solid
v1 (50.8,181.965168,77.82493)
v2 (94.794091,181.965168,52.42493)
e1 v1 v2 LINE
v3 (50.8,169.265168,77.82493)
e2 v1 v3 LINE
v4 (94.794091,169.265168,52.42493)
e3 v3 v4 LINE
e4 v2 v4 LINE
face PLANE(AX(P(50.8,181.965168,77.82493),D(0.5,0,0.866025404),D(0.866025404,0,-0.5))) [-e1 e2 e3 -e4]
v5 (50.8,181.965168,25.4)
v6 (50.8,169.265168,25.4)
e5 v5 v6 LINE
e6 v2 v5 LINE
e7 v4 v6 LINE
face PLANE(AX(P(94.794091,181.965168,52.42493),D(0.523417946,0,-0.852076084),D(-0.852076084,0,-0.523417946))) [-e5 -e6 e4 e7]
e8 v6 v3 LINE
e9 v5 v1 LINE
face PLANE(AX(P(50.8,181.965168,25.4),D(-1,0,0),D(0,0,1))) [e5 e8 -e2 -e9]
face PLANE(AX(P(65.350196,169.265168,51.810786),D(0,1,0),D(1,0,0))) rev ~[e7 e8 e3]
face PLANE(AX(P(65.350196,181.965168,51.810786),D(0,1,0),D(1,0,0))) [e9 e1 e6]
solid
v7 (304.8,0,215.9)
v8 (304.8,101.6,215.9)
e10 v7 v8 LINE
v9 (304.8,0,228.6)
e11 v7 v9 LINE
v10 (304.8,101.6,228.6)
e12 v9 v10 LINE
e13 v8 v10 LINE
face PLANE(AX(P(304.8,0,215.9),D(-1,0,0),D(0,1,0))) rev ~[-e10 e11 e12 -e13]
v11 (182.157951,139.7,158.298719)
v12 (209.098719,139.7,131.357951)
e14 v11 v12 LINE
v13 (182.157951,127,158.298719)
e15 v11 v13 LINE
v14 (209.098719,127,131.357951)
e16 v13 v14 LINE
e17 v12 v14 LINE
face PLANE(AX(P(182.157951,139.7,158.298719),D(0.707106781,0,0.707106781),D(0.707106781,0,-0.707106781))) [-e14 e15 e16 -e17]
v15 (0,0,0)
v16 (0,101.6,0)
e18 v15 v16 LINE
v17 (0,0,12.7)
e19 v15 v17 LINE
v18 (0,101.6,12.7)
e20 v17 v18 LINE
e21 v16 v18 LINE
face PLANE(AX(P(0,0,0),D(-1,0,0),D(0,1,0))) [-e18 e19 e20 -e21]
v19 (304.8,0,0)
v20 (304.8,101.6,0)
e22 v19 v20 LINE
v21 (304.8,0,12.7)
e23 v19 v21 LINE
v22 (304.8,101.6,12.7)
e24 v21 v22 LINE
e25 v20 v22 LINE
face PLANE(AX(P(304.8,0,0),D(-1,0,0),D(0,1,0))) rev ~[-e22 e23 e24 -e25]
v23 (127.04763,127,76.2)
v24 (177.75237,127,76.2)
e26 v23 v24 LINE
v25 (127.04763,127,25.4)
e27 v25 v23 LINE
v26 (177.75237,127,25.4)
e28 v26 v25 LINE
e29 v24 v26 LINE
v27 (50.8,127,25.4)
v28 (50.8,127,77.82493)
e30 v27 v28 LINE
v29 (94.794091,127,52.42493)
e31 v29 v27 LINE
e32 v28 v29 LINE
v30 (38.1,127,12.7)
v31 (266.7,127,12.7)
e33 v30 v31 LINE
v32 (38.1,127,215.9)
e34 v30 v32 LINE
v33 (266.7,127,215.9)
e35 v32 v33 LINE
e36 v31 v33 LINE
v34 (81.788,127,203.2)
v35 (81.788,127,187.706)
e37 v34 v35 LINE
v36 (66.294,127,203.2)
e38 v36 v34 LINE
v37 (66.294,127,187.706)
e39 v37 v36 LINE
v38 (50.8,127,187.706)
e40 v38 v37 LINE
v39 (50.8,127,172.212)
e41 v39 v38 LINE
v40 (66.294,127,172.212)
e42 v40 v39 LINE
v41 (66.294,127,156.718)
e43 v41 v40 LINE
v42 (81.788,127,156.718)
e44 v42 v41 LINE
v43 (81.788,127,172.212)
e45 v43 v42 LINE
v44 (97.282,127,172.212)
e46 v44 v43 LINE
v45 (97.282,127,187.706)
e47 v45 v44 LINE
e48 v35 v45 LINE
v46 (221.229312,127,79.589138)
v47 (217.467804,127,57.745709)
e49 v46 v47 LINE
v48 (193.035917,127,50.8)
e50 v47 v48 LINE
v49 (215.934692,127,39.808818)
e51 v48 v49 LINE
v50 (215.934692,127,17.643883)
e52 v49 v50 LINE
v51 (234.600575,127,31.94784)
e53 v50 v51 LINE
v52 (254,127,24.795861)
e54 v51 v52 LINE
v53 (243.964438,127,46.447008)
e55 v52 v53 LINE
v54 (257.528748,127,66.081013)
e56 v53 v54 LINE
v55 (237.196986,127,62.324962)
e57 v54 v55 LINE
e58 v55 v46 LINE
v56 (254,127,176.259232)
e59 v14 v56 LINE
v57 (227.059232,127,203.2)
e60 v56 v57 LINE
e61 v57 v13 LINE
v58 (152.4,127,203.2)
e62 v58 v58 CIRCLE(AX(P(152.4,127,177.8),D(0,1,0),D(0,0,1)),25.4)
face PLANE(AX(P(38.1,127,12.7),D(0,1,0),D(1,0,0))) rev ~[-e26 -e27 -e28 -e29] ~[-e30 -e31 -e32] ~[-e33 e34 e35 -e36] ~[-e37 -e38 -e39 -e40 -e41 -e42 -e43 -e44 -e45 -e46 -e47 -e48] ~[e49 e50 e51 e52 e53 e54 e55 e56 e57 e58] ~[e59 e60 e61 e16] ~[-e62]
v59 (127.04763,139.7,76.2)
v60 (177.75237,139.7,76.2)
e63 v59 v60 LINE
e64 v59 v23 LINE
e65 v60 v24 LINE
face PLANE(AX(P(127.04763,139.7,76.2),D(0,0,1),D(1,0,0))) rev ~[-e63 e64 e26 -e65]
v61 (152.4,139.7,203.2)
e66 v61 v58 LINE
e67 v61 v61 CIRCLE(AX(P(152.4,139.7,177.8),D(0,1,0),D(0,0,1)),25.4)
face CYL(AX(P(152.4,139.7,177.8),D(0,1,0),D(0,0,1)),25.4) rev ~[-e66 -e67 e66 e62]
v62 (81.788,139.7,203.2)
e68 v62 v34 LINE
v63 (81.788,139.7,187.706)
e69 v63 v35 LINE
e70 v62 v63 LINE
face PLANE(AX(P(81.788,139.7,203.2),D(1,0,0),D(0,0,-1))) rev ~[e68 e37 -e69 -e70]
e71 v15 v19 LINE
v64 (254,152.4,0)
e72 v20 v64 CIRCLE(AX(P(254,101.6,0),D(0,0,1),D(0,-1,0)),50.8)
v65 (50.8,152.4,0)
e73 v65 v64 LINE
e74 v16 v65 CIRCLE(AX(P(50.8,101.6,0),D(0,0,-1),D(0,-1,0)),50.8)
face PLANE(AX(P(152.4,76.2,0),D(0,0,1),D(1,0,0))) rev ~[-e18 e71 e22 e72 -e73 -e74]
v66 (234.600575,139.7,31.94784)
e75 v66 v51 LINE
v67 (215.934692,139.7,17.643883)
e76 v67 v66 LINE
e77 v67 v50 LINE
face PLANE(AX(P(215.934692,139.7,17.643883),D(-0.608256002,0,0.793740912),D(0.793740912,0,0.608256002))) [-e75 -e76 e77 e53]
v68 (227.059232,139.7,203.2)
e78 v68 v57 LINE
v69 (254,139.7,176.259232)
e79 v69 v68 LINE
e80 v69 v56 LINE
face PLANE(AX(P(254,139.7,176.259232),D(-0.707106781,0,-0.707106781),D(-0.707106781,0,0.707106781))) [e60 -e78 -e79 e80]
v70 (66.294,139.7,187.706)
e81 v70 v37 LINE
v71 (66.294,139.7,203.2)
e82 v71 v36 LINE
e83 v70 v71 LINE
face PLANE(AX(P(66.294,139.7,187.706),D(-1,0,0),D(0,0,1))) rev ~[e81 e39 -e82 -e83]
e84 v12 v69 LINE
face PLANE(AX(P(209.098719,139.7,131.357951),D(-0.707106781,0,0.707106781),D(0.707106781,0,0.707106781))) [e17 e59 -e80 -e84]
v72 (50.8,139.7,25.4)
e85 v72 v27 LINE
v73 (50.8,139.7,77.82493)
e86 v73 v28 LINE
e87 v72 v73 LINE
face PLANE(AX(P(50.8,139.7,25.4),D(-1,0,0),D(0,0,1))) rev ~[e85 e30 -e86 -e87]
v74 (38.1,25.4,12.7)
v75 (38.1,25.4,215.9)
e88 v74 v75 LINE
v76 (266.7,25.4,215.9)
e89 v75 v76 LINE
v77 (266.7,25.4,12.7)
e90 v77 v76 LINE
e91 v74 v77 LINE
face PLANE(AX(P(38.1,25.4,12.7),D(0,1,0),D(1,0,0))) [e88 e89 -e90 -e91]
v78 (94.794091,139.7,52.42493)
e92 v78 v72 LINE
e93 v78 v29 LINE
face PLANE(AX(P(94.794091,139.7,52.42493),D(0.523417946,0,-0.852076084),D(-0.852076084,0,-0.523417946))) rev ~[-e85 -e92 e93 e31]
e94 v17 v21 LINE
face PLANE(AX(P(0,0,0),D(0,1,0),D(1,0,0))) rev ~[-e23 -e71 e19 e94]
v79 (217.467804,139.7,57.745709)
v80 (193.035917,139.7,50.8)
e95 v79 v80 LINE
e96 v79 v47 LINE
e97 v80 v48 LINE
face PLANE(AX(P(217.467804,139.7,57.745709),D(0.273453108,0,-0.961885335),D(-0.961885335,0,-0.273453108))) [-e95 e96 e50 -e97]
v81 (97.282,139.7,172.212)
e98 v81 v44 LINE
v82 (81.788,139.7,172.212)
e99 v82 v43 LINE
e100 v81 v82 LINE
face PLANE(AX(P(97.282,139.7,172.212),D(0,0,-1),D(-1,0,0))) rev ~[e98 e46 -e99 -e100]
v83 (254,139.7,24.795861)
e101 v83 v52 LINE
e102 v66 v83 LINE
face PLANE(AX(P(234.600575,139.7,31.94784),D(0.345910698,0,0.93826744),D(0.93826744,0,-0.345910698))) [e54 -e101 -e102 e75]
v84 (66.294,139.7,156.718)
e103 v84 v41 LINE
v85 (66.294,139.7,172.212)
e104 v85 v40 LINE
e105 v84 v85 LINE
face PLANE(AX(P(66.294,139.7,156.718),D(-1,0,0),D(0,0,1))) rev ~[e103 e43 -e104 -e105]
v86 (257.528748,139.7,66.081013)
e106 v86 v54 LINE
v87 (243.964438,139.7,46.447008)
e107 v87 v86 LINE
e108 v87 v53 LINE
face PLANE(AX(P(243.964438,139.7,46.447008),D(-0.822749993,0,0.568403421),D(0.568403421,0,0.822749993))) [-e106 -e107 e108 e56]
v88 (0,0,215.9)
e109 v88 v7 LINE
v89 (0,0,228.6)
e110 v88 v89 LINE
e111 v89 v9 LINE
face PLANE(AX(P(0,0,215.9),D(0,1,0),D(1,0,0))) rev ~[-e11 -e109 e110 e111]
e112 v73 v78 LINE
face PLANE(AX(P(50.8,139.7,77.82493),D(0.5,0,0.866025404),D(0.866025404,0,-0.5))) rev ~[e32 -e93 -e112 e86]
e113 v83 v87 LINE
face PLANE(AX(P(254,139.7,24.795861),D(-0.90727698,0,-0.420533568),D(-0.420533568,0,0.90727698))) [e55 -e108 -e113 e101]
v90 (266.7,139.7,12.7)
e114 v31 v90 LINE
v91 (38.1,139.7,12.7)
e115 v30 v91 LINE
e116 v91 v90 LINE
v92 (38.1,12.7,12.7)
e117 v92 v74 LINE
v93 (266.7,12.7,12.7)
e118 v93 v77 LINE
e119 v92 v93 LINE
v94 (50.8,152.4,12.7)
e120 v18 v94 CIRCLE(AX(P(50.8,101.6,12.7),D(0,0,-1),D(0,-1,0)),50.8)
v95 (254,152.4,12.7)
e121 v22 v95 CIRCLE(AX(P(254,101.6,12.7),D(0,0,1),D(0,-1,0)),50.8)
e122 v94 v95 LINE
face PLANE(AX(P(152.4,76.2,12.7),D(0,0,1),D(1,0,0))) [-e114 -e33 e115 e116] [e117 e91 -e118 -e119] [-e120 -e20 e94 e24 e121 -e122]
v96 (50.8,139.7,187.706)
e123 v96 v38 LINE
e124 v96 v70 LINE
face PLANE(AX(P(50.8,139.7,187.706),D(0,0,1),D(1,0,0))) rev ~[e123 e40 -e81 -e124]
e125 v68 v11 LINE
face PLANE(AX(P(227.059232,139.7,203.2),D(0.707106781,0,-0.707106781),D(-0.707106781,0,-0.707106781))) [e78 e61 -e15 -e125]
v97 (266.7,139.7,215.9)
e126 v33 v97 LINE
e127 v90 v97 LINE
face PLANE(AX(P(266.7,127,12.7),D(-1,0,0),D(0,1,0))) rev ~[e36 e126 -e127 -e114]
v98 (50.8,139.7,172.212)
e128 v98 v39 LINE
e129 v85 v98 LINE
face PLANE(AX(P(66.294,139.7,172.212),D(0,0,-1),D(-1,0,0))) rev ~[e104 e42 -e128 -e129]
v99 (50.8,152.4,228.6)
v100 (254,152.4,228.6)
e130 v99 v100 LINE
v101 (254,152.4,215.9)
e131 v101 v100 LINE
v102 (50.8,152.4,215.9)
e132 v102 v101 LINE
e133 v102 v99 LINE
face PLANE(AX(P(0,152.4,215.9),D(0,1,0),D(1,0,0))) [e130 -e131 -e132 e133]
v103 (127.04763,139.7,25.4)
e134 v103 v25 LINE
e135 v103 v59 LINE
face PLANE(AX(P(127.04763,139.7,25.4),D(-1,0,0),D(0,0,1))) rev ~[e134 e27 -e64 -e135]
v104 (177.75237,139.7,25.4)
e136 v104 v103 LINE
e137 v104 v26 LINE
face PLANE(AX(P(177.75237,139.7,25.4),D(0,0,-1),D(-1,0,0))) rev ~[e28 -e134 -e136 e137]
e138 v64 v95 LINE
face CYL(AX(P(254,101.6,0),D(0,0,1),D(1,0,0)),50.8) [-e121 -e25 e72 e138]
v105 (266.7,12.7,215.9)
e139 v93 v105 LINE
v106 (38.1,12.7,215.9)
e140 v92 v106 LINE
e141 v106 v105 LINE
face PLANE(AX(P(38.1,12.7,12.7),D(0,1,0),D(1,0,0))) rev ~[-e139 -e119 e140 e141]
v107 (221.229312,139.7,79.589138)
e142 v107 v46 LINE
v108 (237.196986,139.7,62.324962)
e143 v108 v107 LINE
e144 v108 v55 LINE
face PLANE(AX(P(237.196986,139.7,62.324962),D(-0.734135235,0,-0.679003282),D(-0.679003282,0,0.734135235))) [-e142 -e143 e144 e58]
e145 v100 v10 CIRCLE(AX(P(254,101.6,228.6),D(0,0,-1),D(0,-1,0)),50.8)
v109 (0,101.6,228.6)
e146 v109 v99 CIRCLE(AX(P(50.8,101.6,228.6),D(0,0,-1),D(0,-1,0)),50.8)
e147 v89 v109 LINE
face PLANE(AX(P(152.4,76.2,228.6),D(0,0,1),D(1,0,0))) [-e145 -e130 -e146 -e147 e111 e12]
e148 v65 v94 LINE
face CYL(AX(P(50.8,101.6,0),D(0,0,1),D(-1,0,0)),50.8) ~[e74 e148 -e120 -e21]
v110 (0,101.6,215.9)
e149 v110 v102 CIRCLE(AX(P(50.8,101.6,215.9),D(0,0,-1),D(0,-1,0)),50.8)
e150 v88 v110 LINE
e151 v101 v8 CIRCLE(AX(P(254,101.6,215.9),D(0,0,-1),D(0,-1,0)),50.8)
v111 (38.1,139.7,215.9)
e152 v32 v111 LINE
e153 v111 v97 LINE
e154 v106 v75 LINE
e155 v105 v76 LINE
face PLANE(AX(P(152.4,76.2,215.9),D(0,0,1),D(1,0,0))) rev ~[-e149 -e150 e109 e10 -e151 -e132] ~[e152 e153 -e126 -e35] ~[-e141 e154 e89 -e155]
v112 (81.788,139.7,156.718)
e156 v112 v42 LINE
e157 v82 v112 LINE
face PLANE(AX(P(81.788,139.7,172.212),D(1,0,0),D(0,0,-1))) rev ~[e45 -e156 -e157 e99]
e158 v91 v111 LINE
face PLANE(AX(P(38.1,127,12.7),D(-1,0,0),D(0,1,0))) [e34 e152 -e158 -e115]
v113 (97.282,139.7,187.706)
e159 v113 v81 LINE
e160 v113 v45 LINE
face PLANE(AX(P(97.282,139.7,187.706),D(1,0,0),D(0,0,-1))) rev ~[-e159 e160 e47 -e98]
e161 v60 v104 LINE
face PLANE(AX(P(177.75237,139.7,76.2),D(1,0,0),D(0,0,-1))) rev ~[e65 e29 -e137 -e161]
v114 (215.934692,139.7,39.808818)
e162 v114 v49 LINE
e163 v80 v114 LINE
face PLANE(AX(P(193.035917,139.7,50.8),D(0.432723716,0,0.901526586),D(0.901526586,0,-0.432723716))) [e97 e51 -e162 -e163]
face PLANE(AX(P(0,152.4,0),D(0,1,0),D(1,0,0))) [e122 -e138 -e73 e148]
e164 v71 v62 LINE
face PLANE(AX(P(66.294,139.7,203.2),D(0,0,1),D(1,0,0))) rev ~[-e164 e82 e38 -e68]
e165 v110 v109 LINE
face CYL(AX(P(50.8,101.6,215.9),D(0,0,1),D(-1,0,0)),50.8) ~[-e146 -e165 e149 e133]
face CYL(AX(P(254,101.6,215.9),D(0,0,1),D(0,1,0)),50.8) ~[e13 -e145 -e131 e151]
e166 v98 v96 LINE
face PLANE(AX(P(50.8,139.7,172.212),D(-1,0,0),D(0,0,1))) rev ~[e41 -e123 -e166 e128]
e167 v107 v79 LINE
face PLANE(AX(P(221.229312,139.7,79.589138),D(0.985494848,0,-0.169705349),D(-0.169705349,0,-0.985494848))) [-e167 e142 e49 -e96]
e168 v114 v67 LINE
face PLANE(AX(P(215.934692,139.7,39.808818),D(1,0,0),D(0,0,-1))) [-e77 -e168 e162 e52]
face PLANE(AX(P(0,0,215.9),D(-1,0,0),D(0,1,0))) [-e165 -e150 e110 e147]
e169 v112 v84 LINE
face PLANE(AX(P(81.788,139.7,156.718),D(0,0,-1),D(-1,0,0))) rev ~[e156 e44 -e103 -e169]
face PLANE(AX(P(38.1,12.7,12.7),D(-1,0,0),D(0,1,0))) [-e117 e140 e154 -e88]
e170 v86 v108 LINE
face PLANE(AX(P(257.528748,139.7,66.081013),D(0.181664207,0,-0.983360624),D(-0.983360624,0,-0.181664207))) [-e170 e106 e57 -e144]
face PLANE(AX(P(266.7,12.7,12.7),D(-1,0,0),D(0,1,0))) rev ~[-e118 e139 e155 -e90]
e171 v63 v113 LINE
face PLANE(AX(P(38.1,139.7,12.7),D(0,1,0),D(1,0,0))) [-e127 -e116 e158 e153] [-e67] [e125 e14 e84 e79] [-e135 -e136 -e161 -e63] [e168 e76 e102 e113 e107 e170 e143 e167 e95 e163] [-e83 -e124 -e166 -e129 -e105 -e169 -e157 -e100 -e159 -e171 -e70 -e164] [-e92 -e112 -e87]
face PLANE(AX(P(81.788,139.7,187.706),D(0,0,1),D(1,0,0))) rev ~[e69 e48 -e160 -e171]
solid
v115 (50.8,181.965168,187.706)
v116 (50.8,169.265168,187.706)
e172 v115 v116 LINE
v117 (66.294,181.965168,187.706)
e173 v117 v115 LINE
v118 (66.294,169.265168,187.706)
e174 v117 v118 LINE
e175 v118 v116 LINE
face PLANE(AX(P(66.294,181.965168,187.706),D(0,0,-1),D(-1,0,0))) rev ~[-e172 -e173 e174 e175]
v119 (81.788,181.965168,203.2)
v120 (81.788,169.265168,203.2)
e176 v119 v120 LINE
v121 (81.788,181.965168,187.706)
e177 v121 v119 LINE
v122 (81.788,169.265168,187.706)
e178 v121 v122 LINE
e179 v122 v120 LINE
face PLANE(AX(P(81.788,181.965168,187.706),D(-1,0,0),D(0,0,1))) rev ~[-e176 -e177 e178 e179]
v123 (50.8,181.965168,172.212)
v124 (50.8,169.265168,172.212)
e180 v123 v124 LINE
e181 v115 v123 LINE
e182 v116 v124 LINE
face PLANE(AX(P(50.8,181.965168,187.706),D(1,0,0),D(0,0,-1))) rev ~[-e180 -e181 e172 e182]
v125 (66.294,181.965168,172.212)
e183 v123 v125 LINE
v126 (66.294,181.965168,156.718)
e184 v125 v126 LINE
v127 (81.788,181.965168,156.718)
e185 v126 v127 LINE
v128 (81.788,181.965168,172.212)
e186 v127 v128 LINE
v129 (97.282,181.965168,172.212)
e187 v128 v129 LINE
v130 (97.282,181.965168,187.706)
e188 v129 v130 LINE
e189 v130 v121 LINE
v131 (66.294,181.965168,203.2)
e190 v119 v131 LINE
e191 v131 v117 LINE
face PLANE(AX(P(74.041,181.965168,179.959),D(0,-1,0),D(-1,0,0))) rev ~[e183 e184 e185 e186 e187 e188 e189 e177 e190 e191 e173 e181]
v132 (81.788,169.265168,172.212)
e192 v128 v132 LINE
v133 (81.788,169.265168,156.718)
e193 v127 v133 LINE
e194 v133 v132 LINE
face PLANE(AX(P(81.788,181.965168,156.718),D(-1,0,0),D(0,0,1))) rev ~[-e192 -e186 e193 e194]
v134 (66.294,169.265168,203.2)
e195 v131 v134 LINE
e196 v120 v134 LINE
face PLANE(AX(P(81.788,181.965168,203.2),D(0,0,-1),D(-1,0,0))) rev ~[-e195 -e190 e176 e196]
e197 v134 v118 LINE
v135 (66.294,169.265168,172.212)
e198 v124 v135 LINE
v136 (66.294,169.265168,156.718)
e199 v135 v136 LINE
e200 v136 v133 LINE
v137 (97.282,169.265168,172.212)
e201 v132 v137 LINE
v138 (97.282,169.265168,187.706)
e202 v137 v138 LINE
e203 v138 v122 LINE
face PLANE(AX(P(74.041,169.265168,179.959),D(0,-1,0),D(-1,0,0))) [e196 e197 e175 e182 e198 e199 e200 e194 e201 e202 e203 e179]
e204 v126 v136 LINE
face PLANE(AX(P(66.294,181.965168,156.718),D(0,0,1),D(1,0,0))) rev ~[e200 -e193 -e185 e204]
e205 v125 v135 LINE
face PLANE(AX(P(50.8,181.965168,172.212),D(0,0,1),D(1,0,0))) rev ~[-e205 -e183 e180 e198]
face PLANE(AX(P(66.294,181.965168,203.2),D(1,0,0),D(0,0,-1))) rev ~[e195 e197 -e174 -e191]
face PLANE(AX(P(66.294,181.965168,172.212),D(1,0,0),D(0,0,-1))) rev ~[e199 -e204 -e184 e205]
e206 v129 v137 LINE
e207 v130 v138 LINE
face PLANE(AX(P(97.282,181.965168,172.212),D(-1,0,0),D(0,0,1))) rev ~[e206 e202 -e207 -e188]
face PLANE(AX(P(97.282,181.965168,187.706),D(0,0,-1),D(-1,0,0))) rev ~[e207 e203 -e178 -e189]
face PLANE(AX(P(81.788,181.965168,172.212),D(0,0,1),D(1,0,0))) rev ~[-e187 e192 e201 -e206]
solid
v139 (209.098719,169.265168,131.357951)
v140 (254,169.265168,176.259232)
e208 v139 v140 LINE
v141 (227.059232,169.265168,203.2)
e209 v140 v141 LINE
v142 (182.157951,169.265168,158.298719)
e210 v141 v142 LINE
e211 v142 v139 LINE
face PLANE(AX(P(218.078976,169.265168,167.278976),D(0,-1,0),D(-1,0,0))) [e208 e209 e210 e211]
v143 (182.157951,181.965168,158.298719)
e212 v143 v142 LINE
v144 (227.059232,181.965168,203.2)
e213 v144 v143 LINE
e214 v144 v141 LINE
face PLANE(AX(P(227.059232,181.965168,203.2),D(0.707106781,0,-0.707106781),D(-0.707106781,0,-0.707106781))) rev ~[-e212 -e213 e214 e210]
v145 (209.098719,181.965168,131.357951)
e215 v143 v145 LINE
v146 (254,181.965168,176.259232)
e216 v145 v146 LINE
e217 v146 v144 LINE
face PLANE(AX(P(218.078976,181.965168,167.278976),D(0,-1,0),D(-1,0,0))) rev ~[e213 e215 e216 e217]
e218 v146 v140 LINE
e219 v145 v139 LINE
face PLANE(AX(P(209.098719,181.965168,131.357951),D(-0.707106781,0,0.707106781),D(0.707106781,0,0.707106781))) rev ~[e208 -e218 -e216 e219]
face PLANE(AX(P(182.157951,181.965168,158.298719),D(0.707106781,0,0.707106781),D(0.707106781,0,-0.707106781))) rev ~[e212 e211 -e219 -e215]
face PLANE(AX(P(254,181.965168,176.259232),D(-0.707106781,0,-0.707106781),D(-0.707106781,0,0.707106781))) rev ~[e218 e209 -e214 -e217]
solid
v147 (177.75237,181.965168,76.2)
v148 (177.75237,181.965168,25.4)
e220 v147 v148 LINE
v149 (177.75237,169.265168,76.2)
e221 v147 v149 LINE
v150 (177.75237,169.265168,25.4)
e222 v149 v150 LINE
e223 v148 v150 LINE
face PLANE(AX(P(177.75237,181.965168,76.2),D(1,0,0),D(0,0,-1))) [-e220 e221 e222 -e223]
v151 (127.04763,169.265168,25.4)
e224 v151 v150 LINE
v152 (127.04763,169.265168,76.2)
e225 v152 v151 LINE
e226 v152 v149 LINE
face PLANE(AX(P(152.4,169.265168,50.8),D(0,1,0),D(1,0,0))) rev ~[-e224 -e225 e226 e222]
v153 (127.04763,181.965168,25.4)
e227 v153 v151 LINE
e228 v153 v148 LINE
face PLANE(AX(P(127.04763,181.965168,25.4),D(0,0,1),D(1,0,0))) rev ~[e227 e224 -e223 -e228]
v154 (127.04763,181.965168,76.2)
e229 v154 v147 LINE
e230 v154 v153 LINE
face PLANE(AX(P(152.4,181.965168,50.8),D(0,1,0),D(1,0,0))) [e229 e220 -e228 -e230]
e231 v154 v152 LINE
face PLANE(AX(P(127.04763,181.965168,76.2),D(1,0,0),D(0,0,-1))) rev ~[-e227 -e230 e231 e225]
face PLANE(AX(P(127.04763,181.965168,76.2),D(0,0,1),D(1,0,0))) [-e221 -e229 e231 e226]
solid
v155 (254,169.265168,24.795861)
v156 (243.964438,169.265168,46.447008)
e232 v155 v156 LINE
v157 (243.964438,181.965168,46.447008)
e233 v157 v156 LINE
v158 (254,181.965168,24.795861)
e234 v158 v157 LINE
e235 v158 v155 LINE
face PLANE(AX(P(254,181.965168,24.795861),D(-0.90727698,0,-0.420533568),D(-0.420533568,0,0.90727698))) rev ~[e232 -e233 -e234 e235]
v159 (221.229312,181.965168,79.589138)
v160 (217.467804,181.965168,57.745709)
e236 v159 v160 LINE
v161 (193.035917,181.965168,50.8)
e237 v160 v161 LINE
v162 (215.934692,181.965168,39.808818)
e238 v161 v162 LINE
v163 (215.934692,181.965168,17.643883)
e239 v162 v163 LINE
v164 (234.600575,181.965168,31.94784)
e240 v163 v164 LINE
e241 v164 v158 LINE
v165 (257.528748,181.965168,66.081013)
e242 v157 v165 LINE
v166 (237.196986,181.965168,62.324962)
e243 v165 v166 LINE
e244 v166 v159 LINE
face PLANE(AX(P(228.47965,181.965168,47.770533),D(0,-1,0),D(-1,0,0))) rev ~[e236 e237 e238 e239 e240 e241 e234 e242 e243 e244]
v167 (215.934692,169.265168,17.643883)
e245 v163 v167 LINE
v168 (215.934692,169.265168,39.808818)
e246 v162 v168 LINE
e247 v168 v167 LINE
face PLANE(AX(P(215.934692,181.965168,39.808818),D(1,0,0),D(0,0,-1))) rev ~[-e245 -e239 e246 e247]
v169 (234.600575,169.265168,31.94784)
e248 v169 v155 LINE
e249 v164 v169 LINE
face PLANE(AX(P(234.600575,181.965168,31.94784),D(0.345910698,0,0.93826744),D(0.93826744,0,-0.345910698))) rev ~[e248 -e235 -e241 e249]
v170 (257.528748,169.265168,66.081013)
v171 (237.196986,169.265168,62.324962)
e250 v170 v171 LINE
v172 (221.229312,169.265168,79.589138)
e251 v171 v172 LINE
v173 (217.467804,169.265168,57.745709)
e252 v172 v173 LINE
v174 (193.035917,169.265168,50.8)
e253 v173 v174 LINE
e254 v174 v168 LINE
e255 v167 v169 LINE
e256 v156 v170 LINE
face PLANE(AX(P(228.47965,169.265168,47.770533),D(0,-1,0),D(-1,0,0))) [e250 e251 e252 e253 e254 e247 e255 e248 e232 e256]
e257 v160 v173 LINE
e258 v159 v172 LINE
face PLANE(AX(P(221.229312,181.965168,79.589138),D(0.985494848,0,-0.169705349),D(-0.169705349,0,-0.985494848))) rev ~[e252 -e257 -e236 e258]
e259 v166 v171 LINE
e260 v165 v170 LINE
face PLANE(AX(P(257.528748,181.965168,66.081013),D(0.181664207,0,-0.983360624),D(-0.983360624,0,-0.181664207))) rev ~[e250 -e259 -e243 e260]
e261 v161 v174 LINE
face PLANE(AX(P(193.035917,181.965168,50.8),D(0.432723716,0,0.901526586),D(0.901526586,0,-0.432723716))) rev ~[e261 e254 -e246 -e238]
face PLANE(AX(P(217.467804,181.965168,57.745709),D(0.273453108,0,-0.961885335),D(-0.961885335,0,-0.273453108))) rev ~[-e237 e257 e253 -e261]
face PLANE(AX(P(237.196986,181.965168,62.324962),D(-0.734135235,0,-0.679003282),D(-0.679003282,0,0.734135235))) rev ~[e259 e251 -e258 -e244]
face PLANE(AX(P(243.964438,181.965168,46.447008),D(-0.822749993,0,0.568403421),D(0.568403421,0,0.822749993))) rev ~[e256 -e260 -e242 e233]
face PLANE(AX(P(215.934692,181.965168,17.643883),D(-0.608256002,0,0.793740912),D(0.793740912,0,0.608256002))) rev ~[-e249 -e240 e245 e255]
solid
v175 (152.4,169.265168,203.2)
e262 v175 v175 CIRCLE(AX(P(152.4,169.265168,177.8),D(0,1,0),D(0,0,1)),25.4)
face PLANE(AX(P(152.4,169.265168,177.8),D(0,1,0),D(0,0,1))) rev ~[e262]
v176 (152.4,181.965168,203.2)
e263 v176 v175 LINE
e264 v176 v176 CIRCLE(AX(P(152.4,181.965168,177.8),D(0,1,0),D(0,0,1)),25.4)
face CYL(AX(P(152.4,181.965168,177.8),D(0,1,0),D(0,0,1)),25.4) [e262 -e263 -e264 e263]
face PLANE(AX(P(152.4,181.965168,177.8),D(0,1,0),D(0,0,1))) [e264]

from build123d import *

# Parameters (mm, degrees)
SKETCH1_W             = 304.8
SKETCH1_H             = 152.4
BOSS_EXTRUDE1_DEPTH   = 12.7
FILLET3_R             = 50.8
SKETCH2_W             = 228.6
SKETCH2_H             = 12.7
BOSS_EXTRUDE2_DEPTH   = 203.2
SKETCH3_W             = 304.8
SKETCH3_H             = 152.4
BOSS_EXTRUDE3_DEPTH   = 12.7
FILLET4_R             = 50.8
SKETCH5_W             = 228.6
SKETCH5_H             = 12.7
BOSS_EXTRUDE5_DEPTH   = 203.2
SKETCH6_R             = 25.4
CUT_EXTRUDE1_DEPTH    = 50.8
CUT_EXTRUDE2_DEPTH    = 50.8
CUT_EXTRUDE3_DEPTH    = 50.8
CUT_EXTRUDE5_DEPTH    = 50.8
CUT_EXTRUDE7_DEPTH    = 50.8
BOSS_EXTRUDE9_START   = 12.7
SKETCH17_R            = 25.4
BOSS_EXTRUDE9_DEPTH   = 12.7
BOSS_EXTRUDE9_2_DEPTH = 12.7
BOSS_EXTRUDE9_3_DEPTH = 12.7
BOSS_EXTRUDE9_4_DEPTH = 12.7
SKETCH17_W            = 50.70474023
SKETCH17_H            = 50.8
BOSS_EXTRUDE9_5_DEPTH = 12.7
BOSS_EXTRUDE9_6_DEPTH = 12.7


with BuildPart() as part:
    # Sketch1 → Boss-Extrude1 (new body)
    with BuildSketch(Plane.XY):
        with Locations((152.4, 76.2)):
            Rectangle(SKETCH1_W, SKETCH1_H)
    extrude(amount=BOSS_EXTRUDE1_DEPTH)

    # Fillet3
    fillet3_edges = [part.edges().sort_by_distance(p)[0] for p in [
        (0, 152.4, 6.35),
        (304.8, 152.4, 6.35),
    ]]
    fillet(fillet3_edges, radius=FILLET3_R)

    # Sketch2 → Boss-Extrude2 (add)
    with BuildSketch(Plane.XY.offset(12.7)):
        with Locations((152.4, 133.35)):
            Rectangle(SKETCH2_W, SKETCH2_H)
    extrude(amount=BOSS_EXTRUDE2_DEPTH)

    # Sketch3 → Boss-Extrude3 (add)
    with BuildSketch(Plane.XY.offset(215.9)):
        with Locations((152.4, 76.2)):
            Rectangle(SKETCH3_W, SKETCH3_H)
    extrude(amount=BOSS_EXTRUDE3_DEPTH)

    # Fillet4
    fillet4_edges = [part.edges().sort_by_distance(p)[0] for p in [
        (0, 152.4, 222.25),
        (304.8, 152.4, 222.25),
    ]]
    fillet(fillet4_edges, radius=FILLET4_R)

    # Sketch5 → Boss-Extrude5 (add)
    with BuildSketch(Plane.XY.offset(12.7)):
        with Locations((152.4, 19.05)):
            Rectangle(SKETCH5_W, SKETCH5_H)
    extrude(amount=BOSS_EXTRUDE5_DEPTH)

    # Sketch6 → Cut-Extrude1 (cut)
    with BuildSketch(Plane(origin=(0, 139.7, 0), x_dir=(1, 0, 0), z_dir=(0, 1, 0))):
        with Locations(Location((152.4, -177.8, 0), (0, 0, 270))):
            Circle(SKETCH6_R)
        Polygon((127.047629885, -25.4), (127.047629885, -76.2), (152.4, -76.2), (177.752370115, -76.2), (177.752370115, -50.8), (177.752370115, -25.4), align=None)
    extrude(amount=-CUT_EXTRUDE1_DEPTH, mode=Mode.SUBTRACT)

    # Sketch7 → Cut-Extrude2 (cut)
    with BuildSketch(Plane(origin=(0, 139.7, 0), x_dir=(1, 0, 0), z_dir=(0, 1, 0))):
        Polygon((50.8, -25.4), (50.8, -77.824929978), (94.794090512, -52.424929978), align=None)
    extrude(amount=-CUT_EXTRUDE2_DEPTH, mode=Mode.SUBTRACT)

    # Sketch8 → Cut-Extrude3 (cut)
    with BuildSketch(Plane(origin=(0, 139.7, 0), x_dir=(1, 0, 0), z_dir=(0, 1, 0))):
        Polygon((66.294, -156.718), (66.294, -172.212), (50.8, -172.212), (50.8, -187.706), (66.294, -187.706), (66.294, -203.2), (81.788, -203.2), (81.788, -187.706), (97.282, -187.706), (97.282, -172.212), (81.788, -172.212), (81.788, -156.718), align=None)
    extrude(amount=-CUT_EXTRUDE3_DEPTH, mode=Mode.SUBTRACT)

    # Sketch10 → Cut-Extrude5 (cut)
    with BuildSketch(Plane(origin=(0, 139.7, 0), x_dir=(1, 0, 0), z_dir=(0, 1, 0))):
        Polygon((254, -176.259231637), (227.059231637, -203.2), (182.157951031, -158.298719395), (209.098719395, -131.357951031), align=None)
    extrude(amount=-CUT_EXTRUDE5_DEPTH, mode=Mode.SUBTRACT)

    # Sketch11 → Cut-Extrude7 (cut)
    with BuildSketch(Plane(origin=(0, 139.7, 0), x_dir=(1, 0, 0), z_dir=(0, 1, 0))):
        Polygon((193.03591652, -50.8), (243.964438371, -46.447008303), (257.528748086, -66.08101348), (237.196986142, -62.324961711), (221.229311995, -79.589137786), (217.467804029, -57.745708944), align=None)
        Polygon((254, -24.795861449), (243.964438371, -46.447008303), (193.03591652, -50.8), (215.934691813, -39.808817622), (215.934691813, -17.643883024), (234.600575441, -31.947839874), align=None)
    extrude(amount=-CUT_EXTRUDE7_DEPTH, mode=Mode.SUBTRACT)


with BuildPart() as body_2:
    # Sketch17 → Boss-Extrude9 (new body)
    with BuildSketch(Plane(origin=(0, 169.265167748, 0), x_dir=(1, 0, 0), z_dir=(0, 1, 0)).offset(BOSS_EXTRUDE9_START)):
        with Locations(Location((152.4, -177.8, 0), (0, 0, 270))):
            Circle(SKETCH17_R)
    extrude(amount=-BOSS_EXTRUDE9_DEPTH)


with BuildPart() as body_3:
    # Sketch17 → Boss-Extrude9 2 (new body)
    with BuildSketch(Plane(origin=(0, 169.265167748, 0), x_dir=(1, 0, 0), z_dir=(0, 1, 0)).offset(BOSS_EXTRUDE9_START)):
        Polygon((50.8, -25.4), (50.8, -77.824929978), (94.794090512, -52.424929978), align=None)
    extrude(amount=-BOSS_EXTRUDE9_2_DEPTH)


with BuildPart() as body_4:
    # Sketch17 → Boss-Extrude9 3 (new body)
    with BuildSketch(Plane(origin=(0, 169.265167748, 0), x_dir=(1, 0, 0), z_dir=(0, 1, 0)).offset(BOSS_EXTRUDE9_START)):
        Polygon((66.294, -156.718), (81.788, -156.718), (81.788, -172.212), (97.282, -172.212), (97.282, -187.706), (81.788, -187.706), (81.788, -203.2), (66.294, -203.2), (66.294, -187.706), (50.8, -187.706), (50.8, -172.212), (66.294, -172.212), align=None)
    extrude(amount=-BOSS_EXTRUDE9_3_DEPTH)


with BuildPart() as body_5:
    # Sketch17 → Boss-Extrude9 4 (new body)
    with BuildSketch(Plane(origin=(0, 169.265167748, 0), x_dir=(1, 0, 0), z_dir=(0, 1, 0)).offset(BOSS_EXTRUDE9_START)):
        Polygon((182.157951031, -158.298719395), (209.098719395, -131.357951031), (254, -176.259231637), (227.059231637, -203.2), align=None)
    extrude(amount=-BOSS_EXTRUDE9_4_DEPTH)


with BuildPart() as body_6:
    # Sketch17 → Boss-Extrude9 5 (new body)
    with BuildSketch(Plane(origin=(0, 169.265167748, 0), x_dir=(1, 0, 0), z_dir=(0, 1, 0)).offset(BOSS_EXTRUDE9_START)):
        with Locations((152.4, -50.8)):
            Rectangle(SKETCH17_W, SKETCH17_H)
    extrude(amount=-BOSS_EXTRUDE9_5_DEPTH)


with BuildPart() as body_7:
    # Sketch17 → Boss-Extrude9 6 (new body)
    with BuildSketch(Plane(origin=(0, 169.265167748, 0), x_dir=(1, 0, 0), z_dir=(0, 1, 0)).offset(BOSS_EXTRUDE9_START)):
        Polygon((193.03591652, -50.8), (215.934691813, -39.808817622), (215.934691813, -17.643883024), (234.600575441, -31.947839874), (254, -24.795861449), (243.964438371, -46.447008303), (257.528748086, -66.08101348), (237.196986142, -62.324961711), (221.229311995, -79.589137786), (217.467804029, -57.745708944), align=None)
    extrude(amount=-BOSS_EXTRUDE9_6_DEPTH)


solid = Compound([part.part, body_2.part, body_3.part, body_4.part, body_5.part, body_6.part, body_7.part])
